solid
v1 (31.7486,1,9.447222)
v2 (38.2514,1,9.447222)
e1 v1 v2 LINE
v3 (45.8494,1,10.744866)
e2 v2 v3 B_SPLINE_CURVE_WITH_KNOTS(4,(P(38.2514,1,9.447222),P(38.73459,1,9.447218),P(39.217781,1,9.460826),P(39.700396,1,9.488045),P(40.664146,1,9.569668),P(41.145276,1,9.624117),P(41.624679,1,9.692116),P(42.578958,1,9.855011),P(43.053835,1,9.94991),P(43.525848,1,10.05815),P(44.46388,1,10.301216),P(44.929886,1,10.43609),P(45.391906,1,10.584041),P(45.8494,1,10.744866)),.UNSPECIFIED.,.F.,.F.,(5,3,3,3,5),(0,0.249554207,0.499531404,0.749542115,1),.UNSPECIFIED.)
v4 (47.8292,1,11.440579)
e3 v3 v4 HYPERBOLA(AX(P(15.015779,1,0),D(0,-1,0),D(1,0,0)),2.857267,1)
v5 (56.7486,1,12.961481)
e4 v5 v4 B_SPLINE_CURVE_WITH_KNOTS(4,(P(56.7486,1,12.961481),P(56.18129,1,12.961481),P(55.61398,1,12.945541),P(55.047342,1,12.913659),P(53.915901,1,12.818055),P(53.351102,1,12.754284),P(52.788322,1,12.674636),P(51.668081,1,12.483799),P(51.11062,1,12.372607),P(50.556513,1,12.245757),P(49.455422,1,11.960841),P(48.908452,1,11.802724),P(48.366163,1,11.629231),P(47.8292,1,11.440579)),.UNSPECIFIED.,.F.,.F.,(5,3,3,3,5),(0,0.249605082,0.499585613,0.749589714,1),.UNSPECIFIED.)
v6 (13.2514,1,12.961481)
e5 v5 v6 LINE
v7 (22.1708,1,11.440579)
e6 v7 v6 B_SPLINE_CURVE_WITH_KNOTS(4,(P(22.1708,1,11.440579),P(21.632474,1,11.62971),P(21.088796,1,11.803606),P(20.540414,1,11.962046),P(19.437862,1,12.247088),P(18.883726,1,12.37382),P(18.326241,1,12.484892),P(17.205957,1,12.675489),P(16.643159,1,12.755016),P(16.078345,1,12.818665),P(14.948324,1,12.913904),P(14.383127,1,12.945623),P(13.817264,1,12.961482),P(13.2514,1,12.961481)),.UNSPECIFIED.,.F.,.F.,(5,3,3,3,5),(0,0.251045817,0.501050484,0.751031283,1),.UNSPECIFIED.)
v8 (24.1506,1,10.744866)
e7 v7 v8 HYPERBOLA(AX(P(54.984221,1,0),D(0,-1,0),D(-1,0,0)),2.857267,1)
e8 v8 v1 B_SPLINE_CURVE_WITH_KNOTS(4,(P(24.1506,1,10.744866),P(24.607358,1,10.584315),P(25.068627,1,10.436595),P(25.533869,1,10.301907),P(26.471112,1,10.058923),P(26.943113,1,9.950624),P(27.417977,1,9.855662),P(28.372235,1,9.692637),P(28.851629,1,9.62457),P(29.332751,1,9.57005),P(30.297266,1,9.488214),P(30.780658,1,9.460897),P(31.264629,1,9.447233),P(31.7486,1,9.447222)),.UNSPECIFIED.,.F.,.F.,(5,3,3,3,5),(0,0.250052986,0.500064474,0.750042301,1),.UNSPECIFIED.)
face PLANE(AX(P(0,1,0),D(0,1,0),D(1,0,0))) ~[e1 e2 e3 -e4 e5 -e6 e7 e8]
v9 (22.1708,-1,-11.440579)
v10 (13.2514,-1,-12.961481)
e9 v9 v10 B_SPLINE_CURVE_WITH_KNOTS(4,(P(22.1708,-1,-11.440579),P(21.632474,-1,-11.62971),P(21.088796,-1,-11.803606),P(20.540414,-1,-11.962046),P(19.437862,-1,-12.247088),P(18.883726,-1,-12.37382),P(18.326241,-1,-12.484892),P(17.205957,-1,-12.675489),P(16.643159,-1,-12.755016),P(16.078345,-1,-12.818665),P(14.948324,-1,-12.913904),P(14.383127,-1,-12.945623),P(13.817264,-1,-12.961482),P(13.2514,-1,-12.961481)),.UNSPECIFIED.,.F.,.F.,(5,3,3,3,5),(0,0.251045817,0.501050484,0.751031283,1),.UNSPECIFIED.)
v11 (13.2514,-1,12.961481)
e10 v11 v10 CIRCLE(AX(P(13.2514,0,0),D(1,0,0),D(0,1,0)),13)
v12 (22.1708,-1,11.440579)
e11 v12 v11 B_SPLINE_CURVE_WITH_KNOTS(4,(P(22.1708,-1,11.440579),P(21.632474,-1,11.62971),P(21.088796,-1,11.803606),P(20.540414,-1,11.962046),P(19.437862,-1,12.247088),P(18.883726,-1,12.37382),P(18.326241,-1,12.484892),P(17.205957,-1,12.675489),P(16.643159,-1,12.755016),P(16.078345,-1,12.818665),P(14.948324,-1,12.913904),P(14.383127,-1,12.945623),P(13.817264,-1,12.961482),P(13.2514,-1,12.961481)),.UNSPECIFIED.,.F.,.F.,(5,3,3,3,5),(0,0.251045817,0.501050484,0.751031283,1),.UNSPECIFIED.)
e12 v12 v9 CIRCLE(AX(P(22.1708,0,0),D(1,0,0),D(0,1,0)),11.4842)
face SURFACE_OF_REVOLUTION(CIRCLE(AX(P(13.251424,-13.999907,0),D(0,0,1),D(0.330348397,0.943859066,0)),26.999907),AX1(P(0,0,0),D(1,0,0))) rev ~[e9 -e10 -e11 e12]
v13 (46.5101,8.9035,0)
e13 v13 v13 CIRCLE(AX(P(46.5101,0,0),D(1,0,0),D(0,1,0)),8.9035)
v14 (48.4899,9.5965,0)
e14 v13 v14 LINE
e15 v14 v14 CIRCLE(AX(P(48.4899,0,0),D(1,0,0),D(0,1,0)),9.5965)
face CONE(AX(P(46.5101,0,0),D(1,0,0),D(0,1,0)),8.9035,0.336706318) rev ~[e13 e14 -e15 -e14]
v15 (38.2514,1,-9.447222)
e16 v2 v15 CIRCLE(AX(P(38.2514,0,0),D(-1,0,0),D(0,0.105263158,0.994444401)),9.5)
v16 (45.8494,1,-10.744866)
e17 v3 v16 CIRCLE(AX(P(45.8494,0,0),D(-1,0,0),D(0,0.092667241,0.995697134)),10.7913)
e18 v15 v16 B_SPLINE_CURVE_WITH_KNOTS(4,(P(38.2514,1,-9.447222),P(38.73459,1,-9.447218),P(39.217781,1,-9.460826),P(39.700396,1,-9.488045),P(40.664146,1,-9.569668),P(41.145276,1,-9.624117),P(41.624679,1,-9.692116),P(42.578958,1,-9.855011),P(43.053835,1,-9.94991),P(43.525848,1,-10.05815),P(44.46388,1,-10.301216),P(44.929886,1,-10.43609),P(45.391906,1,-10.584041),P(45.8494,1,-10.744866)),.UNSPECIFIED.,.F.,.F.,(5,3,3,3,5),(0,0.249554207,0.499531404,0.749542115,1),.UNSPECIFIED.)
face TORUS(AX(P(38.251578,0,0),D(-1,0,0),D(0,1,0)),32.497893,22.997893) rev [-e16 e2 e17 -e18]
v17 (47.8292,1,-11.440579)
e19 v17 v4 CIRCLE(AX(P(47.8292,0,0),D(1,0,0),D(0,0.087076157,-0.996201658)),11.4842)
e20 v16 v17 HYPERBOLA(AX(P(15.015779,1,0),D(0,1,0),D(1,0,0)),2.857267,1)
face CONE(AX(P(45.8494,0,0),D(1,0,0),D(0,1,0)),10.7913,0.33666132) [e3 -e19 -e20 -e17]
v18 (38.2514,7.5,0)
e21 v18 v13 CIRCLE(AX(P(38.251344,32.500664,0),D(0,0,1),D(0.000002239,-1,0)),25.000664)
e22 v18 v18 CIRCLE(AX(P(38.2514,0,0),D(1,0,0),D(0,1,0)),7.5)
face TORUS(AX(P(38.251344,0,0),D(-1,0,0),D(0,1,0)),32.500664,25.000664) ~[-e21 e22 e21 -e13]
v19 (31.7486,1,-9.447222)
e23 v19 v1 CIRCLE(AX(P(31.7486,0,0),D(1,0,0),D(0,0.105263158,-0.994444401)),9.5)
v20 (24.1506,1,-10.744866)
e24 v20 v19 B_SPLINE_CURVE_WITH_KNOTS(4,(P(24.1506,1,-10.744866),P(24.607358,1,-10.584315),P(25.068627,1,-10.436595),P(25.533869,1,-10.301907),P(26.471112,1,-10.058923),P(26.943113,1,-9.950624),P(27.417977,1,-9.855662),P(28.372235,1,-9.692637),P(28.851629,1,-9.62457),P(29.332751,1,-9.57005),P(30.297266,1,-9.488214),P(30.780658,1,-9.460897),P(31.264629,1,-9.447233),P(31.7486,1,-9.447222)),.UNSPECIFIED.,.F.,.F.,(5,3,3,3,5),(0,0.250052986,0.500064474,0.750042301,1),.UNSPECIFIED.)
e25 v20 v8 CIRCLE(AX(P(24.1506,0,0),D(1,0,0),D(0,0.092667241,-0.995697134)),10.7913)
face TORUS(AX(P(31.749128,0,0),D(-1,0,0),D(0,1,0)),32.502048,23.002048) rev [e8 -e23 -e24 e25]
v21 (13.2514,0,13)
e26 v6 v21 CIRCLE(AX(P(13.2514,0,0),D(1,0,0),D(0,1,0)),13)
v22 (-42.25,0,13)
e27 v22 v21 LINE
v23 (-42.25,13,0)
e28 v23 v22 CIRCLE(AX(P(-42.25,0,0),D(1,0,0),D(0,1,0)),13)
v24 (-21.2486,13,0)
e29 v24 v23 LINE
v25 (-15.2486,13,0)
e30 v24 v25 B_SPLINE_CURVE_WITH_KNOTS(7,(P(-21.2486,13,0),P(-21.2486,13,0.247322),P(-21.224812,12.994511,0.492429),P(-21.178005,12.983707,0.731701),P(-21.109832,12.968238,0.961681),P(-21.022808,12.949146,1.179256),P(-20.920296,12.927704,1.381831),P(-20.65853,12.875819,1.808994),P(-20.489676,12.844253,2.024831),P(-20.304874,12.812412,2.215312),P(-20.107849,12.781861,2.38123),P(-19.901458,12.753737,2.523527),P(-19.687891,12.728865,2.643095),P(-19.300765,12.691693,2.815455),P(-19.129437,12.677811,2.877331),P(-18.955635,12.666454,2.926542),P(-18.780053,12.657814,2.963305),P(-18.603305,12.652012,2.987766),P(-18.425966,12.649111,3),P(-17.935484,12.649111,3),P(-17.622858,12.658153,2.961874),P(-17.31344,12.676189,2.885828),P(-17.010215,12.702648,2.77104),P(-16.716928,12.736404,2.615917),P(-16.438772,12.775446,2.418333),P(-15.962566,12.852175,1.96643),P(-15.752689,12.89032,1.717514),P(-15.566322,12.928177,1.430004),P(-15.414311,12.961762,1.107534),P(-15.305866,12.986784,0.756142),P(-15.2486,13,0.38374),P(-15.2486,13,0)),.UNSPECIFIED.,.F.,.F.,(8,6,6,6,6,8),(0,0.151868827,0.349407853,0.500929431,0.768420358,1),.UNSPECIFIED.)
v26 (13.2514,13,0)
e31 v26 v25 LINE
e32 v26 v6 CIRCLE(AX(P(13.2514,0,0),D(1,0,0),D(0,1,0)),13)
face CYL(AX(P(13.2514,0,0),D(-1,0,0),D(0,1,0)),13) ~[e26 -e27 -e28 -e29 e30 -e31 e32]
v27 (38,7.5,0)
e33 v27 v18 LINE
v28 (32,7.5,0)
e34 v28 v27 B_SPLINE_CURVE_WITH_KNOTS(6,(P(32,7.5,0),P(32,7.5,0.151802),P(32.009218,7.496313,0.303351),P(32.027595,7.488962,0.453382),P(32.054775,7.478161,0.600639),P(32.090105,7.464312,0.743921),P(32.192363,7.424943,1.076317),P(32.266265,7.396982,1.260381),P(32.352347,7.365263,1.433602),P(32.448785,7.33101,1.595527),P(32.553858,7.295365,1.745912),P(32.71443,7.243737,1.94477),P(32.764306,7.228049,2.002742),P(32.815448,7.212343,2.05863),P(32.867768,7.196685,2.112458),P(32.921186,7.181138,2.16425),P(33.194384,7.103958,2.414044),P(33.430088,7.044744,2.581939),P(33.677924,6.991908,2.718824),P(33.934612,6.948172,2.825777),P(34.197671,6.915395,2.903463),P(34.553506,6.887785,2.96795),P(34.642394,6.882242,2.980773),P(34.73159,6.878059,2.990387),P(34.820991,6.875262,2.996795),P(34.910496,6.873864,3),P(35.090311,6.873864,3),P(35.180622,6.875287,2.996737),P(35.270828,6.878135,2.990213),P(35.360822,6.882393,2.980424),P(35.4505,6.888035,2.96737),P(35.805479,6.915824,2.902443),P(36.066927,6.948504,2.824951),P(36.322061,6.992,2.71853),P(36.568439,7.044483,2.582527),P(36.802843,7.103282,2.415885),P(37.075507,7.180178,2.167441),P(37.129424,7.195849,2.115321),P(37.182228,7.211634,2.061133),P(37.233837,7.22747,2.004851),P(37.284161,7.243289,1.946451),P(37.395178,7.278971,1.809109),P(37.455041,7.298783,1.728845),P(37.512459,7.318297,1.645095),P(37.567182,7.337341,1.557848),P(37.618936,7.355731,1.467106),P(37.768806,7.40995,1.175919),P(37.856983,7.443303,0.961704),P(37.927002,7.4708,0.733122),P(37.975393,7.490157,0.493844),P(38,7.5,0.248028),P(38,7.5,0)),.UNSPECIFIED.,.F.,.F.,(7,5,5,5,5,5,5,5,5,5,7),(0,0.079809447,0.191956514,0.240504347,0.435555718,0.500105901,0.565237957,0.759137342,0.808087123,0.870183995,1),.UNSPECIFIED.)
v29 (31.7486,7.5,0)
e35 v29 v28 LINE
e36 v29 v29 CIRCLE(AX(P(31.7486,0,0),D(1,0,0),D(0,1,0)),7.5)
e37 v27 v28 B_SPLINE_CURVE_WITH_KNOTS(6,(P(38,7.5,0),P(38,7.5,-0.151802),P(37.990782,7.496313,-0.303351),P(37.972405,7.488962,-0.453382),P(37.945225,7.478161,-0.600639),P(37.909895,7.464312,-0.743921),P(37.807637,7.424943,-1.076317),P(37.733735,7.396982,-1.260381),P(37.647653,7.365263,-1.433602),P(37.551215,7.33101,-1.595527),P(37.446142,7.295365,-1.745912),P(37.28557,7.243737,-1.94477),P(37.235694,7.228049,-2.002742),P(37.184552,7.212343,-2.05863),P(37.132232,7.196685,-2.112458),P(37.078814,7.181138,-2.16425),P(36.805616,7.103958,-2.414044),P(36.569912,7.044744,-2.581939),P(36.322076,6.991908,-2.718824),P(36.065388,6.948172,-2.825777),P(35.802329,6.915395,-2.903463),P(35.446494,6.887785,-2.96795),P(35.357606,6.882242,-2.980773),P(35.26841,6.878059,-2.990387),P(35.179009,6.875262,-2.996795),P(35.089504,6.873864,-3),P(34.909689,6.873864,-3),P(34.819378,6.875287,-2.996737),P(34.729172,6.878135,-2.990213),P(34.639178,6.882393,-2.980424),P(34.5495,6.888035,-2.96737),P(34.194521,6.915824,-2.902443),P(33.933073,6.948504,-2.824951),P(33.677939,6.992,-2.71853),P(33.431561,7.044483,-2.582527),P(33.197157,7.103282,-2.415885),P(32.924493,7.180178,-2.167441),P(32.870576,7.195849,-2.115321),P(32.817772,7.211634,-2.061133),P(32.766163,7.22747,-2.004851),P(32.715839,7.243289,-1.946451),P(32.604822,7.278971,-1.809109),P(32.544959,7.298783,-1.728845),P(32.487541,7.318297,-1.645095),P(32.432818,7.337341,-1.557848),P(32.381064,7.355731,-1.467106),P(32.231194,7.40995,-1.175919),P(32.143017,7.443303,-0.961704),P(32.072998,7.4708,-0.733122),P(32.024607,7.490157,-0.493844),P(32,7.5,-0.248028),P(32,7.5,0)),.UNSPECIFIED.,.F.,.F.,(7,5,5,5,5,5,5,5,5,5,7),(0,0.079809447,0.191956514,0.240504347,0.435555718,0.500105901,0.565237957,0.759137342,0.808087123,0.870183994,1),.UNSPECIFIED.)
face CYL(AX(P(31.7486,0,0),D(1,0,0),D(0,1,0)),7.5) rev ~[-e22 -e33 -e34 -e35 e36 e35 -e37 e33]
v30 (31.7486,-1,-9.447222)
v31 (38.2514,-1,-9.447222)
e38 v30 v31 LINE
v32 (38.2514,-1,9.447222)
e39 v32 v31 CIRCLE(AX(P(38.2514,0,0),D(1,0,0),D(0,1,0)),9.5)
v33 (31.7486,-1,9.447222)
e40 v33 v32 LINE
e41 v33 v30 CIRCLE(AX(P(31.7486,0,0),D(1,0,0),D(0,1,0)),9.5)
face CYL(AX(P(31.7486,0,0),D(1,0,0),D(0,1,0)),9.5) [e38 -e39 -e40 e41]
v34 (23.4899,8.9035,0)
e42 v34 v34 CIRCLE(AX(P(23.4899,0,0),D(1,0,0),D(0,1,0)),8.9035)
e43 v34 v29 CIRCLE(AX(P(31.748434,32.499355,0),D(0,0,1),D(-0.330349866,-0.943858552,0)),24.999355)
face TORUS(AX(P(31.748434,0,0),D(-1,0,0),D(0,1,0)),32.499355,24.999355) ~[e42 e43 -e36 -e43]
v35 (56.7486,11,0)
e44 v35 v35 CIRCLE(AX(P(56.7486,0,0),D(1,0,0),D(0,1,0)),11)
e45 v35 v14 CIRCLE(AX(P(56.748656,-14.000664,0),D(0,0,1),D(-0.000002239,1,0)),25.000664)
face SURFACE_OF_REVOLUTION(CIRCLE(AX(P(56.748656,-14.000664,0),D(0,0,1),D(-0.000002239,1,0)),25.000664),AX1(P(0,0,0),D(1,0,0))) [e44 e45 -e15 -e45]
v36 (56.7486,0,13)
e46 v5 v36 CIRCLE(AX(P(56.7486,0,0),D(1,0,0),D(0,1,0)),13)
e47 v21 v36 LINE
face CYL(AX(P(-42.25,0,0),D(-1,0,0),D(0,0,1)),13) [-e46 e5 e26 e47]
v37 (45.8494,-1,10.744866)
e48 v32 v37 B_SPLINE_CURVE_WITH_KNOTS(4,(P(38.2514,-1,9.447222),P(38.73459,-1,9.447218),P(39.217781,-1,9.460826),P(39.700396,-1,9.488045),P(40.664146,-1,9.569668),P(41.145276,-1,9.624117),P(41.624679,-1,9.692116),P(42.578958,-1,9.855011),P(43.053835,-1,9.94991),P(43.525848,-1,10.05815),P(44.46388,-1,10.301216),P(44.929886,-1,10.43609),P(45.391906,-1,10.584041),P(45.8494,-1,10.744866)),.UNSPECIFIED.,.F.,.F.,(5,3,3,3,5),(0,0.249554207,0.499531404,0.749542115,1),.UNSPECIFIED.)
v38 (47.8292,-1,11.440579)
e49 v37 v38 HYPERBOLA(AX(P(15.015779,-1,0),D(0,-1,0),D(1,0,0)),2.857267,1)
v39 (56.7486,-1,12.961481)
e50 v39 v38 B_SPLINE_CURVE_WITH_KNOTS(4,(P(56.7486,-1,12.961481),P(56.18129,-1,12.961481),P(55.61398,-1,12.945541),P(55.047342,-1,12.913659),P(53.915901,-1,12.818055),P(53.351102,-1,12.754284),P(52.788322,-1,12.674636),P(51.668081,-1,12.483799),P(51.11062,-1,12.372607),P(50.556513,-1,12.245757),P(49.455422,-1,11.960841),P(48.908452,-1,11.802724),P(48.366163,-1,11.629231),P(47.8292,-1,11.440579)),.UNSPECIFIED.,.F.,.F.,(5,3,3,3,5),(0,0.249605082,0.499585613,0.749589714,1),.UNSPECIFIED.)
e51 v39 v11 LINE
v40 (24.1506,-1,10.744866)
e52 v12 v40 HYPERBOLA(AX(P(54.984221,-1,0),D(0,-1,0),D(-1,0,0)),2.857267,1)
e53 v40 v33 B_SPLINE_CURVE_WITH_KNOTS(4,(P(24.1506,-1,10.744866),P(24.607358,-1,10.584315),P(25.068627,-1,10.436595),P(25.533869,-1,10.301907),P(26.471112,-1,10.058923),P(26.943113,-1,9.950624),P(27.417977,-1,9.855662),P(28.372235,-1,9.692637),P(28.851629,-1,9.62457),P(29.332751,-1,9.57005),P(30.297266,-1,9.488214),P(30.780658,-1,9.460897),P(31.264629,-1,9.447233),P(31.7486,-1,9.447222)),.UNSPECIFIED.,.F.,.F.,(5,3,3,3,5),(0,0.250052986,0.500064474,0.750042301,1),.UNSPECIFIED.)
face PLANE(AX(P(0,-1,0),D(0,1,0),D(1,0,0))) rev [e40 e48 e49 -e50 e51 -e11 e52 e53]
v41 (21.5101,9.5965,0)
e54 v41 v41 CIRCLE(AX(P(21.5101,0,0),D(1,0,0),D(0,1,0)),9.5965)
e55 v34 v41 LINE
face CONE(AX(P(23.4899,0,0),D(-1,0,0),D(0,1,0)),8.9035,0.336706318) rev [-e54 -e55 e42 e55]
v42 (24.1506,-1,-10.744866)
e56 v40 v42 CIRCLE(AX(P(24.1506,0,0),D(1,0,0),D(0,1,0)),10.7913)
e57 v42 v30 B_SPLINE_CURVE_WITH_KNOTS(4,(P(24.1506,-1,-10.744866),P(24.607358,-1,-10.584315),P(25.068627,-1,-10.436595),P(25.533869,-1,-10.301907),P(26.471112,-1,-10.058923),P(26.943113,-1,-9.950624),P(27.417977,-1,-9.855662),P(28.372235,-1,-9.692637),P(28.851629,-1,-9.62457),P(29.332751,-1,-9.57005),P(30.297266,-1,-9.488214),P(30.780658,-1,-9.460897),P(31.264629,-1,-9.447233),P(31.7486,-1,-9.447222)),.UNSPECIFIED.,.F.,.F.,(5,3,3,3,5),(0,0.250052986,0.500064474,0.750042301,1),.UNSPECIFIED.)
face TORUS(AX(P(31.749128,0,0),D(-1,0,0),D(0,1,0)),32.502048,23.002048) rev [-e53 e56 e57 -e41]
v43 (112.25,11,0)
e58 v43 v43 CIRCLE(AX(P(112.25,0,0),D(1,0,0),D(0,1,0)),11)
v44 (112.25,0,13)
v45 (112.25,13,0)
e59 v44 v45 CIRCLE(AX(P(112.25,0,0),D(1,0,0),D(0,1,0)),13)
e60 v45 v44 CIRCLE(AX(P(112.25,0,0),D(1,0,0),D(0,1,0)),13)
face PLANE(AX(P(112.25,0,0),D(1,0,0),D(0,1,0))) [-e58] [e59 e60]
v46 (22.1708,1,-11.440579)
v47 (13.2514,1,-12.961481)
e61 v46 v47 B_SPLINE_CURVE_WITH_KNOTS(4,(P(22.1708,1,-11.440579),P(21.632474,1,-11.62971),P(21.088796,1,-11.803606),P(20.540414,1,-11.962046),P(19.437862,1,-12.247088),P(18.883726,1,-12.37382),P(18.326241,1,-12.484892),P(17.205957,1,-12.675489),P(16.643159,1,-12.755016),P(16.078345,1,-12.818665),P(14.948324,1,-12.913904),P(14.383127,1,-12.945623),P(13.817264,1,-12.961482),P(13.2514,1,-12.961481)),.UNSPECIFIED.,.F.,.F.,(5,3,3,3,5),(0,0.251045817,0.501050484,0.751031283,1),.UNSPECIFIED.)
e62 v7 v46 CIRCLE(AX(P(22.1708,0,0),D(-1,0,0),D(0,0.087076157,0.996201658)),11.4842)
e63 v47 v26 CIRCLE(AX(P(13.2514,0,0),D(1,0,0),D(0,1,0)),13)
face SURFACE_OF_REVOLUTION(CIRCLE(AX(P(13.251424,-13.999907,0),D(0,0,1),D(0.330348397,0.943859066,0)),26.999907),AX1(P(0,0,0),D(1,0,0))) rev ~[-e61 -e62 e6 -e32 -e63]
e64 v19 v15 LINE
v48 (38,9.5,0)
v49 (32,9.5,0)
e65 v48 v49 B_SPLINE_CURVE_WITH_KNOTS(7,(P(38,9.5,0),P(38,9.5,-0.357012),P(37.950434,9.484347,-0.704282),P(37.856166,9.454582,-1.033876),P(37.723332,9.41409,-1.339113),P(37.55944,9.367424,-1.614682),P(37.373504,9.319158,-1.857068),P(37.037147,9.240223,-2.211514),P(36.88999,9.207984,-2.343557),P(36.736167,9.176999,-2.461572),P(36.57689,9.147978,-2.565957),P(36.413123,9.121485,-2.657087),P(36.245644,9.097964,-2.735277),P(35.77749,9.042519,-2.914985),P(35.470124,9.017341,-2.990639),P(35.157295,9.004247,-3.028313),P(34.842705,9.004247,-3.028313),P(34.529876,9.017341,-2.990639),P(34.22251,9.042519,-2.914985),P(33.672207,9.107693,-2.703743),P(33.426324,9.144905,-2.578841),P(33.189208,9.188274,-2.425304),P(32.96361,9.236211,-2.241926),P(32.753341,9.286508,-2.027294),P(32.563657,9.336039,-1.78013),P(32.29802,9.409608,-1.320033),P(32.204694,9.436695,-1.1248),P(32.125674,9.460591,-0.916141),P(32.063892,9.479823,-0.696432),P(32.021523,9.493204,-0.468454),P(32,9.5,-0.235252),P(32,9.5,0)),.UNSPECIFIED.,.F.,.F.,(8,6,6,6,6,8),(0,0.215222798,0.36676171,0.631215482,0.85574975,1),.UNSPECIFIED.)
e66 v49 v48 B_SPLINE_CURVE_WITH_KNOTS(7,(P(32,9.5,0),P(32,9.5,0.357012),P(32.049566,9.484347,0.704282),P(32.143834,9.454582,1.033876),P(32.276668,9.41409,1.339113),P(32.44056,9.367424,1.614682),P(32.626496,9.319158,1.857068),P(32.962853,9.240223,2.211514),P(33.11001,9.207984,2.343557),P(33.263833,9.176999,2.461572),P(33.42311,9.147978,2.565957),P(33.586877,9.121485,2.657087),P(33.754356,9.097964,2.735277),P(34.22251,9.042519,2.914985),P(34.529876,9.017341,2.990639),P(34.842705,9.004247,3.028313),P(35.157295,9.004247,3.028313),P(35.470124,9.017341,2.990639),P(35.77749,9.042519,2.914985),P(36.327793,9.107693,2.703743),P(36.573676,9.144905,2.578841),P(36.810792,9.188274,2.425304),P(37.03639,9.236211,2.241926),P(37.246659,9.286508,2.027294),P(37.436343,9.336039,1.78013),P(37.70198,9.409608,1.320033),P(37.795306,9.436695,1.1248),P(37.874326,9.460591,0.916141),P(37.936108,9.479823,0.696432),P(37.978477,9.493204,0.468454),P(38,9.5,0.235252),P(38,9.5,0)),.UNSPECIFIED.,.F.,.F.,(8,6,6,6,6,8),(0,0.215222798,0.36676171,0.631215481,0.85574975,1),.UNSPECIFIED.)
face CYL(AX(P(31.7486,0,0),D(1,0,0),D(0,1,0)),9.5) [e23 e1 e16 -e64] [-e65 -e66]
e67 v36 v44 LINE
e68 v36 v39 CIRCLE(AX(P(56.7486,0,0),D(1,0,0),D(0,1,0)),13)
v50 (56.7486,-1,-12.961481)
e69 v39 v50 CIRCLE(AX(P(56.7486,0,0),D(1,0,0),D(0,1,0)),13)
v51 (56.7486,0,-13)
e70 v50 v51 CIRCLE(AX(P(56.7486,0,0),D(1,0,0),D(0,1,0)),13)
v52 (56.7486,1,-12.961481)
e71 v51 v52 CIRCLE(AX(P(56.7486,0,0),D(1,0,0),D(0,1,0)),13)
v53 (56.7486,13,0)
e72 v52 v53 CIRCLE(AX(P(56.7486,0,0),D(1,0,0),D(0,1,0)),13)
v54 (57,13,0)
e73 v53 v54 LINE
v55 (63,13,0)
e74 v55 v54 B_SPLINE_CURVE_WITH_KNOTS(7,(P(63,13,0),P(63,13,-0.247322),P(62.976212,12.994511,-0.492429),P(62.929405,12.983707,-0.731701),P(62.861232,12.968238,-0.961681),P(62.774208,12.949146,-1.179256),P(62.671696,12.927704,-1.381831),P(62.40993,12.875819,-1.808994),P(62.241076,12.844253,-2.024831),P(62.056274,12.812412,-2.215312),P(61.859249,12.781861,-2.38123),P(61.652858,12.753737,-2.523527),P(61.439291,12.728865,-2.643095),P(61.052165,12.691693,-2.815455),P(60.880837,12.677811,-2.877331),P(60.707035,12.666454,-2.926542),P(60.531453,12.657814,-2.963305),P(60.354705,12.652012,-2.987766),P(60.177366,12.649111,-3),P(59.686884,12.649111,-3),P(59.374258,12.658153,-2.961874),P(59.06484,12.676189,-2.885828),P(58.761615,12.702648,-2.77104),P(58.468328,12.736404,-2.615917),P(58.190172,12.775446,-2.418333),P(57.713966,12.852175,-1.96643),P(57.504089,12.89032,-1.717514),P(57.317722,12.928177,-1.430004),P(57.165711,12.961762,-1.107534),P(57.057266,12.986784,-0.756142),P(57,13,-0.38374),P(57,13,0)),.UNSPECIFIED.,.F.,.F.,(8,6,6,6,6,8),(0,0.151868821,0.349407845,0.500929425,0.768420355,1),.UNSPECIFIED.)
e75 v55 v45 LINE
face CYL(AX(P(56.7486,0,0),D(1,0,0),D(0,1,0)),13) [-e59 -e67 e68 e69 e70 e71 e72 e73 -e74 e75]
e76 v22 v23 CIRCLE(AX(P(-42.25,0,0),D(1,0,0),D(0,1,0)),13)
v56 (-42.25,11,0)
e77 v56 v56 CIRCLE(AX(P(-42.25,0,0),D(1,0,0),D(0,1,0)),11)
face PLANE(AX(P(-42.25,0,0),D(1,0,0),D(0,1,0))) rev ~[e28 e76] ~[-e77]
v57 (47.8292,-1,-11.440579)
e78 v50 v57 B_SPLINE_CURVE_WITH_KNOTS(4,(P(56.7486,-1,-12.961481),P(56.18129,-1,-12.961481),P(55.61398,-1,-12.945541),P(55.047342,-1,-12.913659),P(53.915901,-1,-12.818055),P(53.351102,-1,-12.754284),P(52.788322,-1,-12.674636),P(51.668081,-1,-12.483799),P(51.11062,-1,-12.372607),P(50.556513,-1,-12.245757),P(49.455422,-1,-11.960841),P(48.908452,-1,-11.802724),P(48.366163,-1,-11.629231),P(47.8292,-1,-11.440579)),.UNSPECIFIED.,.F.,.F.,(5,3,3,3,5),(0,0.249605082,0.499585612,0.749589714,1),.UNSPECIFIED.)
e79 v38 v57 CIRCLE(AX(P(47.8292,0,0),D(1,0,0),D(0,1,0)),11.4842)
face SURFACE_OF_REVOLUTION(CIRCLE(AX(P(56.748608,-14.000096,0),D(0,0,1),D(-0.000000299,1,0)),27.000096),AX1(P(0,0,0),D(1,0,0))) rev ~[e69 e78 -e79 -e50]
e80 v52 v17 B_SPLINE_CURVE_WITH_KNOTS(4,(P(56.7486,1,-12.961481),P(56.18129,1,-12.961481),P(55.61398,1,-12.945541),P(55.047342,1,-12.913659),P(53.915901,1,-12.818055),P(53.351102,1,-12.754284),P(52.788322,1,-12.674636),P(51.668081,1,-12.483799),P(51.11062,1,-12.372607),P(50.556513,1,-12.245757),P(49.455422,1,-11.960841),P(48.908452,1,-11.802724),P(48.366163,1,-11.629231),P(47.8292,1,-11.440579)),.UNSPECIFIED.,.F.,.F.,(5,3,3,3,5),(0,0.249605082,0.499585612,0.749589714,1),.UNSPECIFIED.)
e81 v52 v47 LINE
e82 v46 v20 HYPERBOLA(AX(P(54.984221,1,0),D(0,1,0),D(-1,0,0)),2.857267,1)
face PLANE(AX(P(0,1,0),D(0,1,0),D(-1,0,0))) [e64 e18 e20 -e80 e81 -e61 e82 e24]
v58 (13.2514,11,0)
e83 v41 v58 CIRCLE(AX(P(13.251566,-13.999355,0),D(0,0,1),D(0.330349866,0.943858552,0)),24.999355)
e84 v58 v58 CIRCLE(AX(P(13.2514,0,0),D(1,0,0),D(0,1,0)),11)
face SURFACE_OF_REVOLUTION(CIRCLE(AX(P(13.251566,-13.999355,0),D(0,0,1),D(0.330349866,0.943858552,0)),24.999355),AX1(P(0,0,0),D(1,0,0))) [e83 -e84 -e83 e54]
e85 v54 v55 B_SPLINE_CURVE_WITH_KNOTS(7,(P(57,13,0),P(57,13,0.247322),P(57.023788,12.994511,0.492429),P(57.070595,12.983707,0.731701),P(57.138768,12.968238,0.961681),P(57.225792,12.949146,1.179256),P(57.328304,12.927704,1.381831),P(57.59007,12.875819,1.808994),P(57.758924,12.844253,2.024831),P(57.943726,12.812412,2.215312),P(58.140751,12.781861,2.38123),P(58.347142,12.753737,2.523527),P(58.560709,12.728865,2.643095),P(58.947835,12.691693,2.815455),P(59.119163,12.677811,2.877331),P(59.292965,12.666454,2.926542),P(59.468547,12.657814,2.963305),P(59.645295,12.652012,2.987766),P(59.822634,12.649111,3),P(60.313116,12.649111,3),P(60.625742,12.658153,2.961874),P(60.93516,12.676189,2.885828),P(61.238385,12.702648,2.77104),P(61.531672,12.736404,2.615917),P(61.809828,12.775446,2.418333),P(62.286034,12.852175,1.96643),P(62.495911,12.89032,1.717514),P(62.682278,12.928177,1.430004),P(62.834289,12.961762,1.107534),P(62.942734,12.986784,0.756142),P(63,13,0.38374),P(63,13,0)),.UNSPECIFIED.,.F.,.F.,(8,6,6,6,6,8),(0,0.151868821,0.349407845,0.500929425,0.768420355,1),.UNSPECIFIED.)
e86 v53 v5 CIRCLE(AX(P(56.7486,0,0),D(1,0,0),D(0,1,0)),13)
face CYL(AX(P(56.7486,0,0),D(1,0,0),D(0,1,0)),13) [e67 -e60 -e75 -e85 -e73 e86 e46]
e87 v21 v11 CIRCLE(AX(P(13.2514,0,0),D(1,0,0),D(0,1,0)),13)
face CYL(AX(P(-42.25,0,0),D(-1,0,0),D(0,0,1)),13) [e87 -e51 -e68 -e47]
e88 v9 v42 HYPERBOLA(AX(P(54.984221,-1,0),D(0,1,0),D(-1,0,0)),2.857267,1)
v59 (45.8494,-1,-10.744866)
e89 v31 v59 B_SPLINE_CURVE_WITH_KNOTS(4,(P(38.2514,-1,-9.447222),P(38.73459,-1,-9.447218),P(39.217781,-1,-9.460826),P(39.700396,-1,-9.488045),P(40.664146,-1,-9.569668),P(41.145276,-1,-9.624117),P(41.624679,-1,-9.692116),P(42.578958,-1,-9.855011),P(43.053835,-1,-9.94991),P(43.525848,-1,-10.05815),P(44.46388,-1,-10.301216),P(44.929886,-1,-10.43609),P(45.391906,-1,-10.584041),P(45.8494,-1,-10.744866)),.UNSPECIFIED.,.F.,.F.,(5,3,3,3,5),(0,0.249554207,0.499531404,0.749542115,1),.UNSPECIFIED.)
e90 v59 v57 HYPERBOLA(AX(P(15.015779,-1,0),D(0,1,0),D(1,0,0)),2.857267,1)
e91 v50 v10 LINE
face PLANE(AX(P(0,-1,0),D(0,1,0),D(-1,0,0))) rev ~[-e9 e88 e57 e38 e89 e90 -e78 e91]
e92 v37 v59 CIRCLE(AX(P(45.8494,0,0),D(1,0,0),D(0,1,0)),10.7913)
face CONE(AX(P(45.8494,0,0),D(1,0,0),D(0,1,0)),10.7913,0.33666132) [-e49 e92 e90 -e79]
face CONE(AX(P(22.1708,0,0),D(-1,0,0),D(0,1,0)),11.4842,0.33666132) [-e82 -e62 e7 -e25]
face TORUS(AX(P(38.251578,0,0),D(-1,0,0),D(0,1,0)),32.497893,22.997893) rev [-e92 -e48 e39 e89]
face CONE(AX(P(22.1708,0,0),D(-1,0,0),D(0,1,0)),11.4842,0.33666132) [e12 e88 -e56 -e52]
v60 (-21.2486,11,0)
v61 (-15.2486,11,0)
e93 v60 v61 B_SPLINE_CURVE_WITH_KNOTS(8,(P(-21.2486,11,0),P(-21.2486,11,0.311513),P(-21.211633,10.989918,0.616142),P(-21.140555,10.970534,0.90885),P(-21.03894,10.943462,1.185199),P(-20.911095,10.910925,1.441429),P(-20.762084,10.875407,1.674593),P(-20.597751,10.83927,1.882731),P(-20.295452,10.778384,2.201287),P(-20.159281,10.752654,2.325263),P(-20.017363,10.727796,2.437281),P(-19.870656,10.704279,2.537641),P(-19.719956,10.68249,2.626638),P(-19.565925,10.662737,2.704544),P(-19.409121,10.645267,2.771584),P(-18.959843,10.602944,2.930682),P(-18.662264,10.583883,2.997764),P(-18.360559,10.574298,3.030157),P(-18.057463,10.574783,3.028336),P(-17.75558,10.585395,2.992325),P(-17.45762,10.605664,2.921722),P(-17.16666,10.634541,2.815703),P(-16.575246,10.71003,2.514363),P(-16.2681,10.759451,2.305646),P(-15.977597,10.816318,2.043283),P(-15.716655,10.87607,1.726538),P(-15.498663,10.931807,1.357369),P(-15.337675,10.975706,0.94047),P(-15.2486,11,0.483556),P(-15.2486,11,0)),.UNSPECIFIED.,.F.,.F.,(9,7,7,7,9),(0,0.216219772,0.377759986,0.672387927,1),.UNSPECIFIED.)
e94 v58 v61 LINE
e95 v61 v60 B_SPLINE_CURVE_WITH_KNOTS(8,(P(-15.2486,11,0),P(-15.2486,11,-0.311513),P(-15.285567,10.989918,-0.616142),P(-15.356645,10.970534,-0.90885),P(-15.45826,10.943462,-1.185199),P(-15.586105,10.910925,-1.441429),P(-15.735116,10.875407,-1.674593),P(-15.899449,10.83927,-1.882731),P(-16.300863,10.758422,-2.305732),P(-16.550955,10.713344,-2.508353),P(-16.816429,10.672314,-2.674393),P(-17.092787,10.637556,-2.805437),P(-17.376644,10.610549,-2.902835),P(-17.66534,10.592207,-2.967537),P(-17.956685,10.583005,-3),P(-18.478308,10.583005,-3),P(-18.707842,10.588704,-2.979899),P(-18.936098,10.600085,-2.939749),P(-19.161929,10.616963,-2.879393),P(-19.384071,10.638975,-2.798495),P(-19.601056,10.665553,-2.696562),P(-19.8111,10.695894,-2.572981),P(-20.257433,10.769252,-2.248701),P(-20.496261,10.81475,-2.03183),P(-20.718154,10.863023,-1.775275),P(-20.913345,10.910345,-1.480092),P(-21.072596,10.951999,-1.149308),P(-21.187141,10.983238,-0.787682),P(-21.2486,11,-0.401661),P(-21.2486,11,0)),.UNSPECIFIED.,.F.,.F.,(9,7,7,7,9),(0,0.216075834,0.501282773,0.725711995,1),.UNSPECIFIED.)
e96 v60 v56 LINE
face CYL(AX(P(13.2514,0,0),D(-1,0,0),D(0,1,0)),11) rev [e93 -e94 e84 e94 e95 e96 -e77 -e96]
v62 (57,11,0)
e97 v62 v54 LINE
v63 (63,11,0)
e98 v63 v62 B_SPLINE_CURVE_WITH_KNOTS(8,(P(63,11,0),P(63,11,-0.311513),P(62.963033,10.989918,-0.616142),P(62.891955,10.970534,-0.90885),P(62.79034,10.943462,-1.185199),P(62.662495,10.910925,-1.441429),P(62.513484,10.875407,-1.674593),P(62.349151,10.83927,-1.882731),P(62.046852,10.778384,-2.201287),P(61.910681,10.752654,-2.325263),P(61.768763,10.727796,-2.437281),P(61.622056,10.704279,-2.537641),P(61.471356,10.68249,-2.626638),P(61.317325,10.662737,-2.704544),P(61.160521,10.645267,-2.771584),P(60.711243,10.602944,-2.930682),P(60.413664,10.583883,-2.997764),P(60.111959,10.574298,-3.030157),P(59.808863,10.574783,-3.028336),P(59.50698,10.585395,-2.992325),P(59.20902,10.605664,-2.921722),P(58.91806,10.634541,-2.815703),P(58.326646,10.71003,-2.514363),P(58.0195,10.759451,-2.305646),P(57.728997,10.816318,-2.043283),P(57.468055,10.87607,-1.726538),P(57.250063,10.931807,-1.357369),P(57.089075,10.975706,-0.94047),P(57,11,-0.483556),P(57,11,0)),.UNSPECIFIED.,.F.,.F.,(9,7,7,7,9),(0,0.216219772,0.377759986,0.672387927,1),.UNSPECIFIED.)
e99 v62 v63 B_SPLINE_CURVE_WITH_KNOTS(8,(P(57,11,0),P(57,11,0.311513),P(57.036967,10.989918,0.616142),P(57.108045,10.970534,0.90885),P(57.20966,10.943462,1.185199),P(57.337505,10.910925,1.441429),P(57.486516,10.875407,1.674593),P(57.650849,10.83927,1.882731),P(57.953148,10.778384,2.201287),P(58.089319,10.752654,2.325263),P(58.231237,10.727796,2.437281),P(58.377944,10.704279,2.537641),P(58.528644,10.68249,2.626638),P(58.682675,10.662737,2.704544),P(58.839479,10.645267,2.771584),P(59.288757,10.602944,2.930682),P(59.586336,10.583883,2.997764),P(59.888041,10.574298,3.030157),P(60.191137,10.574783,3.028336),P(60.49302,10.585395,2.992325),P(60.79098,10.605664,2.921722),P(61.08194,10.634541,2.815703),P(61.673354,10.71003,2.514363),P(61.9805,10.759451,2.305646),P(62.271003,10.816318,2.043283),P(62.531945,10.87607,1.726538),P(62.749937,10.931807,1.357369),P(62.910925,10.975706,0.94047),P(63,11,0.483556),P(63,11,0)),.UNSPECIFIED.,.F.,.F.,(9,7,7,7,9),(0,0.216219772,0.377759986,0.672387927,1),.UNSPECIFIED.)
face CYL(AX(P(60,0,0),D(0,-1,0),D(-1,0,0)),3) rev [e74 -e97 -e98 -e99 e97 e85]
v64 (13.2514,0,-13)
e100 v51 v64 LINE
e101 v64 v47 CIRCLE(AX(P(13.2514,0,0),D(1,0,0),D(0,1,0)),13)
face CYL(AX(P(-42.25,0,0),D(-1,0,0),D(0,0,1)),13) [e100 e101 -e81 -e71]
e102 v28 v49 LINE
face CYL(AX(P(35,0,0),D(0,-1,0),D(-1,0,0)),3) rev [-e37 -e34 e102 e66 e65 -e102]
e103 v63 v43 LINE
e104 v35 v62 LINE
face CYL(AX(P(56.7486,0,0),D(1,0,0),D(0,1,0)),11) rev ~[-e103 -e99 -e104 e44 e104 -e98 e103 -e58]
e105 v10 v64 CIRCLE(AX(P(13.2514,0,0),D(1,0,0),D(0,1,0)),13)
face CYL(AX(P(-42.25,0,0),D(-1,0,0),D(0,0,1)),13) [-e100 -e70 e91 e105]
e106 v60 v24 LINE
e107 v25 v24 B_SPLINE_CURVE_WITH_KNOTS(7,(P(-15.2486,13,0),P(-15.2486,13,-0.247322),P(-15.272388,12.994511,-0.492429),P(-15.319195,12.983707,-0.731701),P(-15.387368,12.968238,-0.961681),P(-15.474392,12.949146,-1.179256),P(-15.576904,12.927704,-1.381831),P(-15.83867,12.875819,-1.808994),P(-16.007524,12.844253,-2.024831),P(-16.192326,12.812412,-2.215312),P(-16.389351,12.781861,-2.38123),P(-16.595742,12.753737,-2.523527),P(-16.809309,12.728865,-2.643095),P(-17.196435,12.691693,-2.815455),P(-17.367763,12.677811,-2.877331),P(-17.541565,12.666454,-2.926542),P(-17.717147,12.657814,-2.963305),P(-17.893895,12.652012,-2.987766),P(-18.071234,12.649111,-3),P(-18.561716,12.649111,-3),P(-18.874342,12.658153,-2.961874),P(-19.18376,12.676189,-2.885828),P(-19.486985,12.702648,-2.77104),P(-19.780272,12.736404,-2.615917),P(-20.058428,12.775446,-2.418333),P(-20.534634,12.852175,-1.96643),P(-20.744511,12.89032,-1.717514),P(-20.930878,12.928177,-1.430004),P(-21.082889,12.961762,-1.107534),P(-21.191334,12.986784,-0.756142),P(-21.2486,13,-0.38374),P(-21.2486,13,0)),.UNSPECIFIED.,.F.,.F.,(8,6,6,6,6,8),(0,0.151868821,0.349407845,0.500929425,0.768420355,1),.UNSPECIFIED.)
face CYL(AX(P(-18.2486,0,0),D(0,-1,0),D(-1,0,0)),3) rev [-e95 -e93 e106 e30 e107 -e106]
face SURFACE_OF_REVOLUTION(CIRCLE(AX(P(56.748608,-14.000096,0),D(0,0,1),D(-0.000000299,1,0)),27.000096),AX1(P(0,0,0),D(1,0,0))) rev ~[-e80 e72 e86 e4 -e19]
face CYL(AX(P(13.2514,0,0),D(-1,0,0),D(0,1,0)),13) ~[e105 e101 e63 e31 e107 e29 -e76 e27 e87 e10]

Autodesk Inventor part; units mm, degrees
ref_plane "YZ Plane" through (0, 0, 0) normal (1, 0, 0) x (0, 1, 0)
ref_plane "XZ Plane" through (0, 0, 0) normal (0, 1, 0) x (-1, 0, 0)
ref_plane "XY Plane" through (0, 0, 0) normal (0, 0, 1) x (1, 0, 0)
sketch "Sketch1" plane through (0, 0, 0) normal (0, 0, 1) x (1, 0, 0)
  line L0 (0, 0) -> (70, 0)
  line L1 (23.4899, 8.9035) -> (21.5101, 9.5965)
  line L2 (46.5101, 8.9035) -> (48.4899, 9.5965)
  arc A0 (21.5101, 9.5965) -> (13.2514, 11) centre (13.2514, -14) ccw
  arc A1 (23.4899, 8.9035) -> (31.7486, 7.5) centre (31.7486, 32.5) ccw
  arc A2 (38.2514, 7.5) -> (46.5101, 8.9035) centre (38.2514, 32.5) ccw
  arc A3 (56.7486, 11) -> (48.4899, 9.5965) centre (56.7486, -14) ccw
  arc A4 (22.1708, 11.4842) -> (13.2514, 13) centre (13.2514, -14) ccw
  line L3 (22.1708, 11.4842) -> (24.1506, 10.7913)
  arc A5 (24.1506, 10.7913) -> (31.7486, 9.5) centre (31.7486, 32.5) ccw
  arc A6 (38.2514, 9.5) -> (45.8494, 10.7913) centre (38.2514, 32.5) ccw
  line L4 (45.8494, 10.7913) -> (47.8292, 11.4842)
  arc A7 (56.7486, 13) -> (47.8292, 11.4842) centre (56.7486, -14) ccw
  line L5 (31.7486, 9.5) -> (38.2514, 9.5)
  line L6 (31.7486, 7.5) -> (38.2514, 7.5)
  line L7 (-42.25, 13) -> (-42.25, 11)
  line L8 (112.25, 13) -> (112.25, 11)
  line L9 (56.7486, 13) -> (112.25, 13)
  line L10 (56.7486, 11) -> (112.25, 11)
  line L11 (13.2514, 13) -> (-42.25, 13)
  line L12 (13.2514, 11) -> (-42.25, 11)
  point P0 (17.5, 11)
  point P1 (52.5, 11)
  point P2 (42.5, 7.5)
  point P3 (27.5, 7.5)
  dimension "d8" = 25
  dimension "d43" = 154.5
revolve "Revolution1" add sketch "Sketch1" angle 360 about axis through (0, 0, 0) along (1, 0, 0)
sketch "Sketch3" plane through (0, 0, 0) normal (0, 1, 0) x (-1, 0, 0)
  circle A0 centre (-35, 0) radius 3
  line L0 (-70, 11) -> (-70, -11) projected
  line L1 (-56.7486, 11) -> (-56.7486, -11) projected
  line L2 (-70, 0) -> (-60, 0)
  circle A1 centre (-60, 0) radius 3
  line L3 (-13.2514, 11) -> (-13.2514, -11) projected
  circle A2 centre (18.2486, 0) radius 3
  dimension "d12" = 6
  dimension "d13" = 10
  dimension "d14" = 6
  dimension "d51" = 6
extrude "Extrusion1" cut sketch "Sketch3" along normal blind 20
sketch "Sketch4" plane through (0, 0, 0) normal (0, 1, 0) x (-1, 0, 0)
  line L0 (-56.7486, -13) -> (-13.2514, -13)
  arc A0 (-56.7486, -12) -> (-48.1595, -10.5403) centre (-56.7486, 14) ccw
  line L1 (-48.1595, -10.5403) -> (-46.1798, -9.8474)
  arc A1 (-38.2514, -8.5) -> (-46.1798, -9.8474) centre (-38.2514, -32.5) ccw
  line L2 (-31.7486, -8.5) -> (-38.2514, -8.5)
  arc A2 (-23.8202, -9.8474) -> (-31.7486, -8.5) centre (-31.7486, -32.5) ccw
  line L3 (-23.8202, -9.8474) -> (-21.8405, -10.5403)
  arc A3 (-21.8405, -10.5403) -> (-13.2514, -12) centre (-13.2514, 14) ccw
  line L4 (-56.7486, -13) -> (-56.7486, -12)
  line L5 (-13.2514, -12) -> (-13.2514, -13)
  point P0 (0, 0)
  point P1 (-22.1708, -11.4842)
  point P2 (-38.2514, -9.5)
  point P3 (-45.8494, -10.7913)
  point P4 (-47.8292, -11.4842)
  point P5 (-38.2514, -8.5)
  point P6 (-48.1595, -10.5403)
extrude "Extrusion3" add sketch "Sketch4" along normal mid plane 2
mirror "Mirror1" about plane through (0, 0, 0) normal (0, 0, 1) of "Extrusion3"
sketch "Sketch6" plane through (-42.25, 0, 0) normal (-1, 0, 0) x (0, 0, 1)
  line L0 (13, 1) -> (13, 0) projected
  circle A0 centre (0, 0) radius 13
  circle A1 centre (0, 0) radius 15
  dimension "d46" = 30
extrude "Extrusion6" cut sketch "Sketch6" against normal up to surface (154.5 mm away)
properties part number "Venturi Valve"
